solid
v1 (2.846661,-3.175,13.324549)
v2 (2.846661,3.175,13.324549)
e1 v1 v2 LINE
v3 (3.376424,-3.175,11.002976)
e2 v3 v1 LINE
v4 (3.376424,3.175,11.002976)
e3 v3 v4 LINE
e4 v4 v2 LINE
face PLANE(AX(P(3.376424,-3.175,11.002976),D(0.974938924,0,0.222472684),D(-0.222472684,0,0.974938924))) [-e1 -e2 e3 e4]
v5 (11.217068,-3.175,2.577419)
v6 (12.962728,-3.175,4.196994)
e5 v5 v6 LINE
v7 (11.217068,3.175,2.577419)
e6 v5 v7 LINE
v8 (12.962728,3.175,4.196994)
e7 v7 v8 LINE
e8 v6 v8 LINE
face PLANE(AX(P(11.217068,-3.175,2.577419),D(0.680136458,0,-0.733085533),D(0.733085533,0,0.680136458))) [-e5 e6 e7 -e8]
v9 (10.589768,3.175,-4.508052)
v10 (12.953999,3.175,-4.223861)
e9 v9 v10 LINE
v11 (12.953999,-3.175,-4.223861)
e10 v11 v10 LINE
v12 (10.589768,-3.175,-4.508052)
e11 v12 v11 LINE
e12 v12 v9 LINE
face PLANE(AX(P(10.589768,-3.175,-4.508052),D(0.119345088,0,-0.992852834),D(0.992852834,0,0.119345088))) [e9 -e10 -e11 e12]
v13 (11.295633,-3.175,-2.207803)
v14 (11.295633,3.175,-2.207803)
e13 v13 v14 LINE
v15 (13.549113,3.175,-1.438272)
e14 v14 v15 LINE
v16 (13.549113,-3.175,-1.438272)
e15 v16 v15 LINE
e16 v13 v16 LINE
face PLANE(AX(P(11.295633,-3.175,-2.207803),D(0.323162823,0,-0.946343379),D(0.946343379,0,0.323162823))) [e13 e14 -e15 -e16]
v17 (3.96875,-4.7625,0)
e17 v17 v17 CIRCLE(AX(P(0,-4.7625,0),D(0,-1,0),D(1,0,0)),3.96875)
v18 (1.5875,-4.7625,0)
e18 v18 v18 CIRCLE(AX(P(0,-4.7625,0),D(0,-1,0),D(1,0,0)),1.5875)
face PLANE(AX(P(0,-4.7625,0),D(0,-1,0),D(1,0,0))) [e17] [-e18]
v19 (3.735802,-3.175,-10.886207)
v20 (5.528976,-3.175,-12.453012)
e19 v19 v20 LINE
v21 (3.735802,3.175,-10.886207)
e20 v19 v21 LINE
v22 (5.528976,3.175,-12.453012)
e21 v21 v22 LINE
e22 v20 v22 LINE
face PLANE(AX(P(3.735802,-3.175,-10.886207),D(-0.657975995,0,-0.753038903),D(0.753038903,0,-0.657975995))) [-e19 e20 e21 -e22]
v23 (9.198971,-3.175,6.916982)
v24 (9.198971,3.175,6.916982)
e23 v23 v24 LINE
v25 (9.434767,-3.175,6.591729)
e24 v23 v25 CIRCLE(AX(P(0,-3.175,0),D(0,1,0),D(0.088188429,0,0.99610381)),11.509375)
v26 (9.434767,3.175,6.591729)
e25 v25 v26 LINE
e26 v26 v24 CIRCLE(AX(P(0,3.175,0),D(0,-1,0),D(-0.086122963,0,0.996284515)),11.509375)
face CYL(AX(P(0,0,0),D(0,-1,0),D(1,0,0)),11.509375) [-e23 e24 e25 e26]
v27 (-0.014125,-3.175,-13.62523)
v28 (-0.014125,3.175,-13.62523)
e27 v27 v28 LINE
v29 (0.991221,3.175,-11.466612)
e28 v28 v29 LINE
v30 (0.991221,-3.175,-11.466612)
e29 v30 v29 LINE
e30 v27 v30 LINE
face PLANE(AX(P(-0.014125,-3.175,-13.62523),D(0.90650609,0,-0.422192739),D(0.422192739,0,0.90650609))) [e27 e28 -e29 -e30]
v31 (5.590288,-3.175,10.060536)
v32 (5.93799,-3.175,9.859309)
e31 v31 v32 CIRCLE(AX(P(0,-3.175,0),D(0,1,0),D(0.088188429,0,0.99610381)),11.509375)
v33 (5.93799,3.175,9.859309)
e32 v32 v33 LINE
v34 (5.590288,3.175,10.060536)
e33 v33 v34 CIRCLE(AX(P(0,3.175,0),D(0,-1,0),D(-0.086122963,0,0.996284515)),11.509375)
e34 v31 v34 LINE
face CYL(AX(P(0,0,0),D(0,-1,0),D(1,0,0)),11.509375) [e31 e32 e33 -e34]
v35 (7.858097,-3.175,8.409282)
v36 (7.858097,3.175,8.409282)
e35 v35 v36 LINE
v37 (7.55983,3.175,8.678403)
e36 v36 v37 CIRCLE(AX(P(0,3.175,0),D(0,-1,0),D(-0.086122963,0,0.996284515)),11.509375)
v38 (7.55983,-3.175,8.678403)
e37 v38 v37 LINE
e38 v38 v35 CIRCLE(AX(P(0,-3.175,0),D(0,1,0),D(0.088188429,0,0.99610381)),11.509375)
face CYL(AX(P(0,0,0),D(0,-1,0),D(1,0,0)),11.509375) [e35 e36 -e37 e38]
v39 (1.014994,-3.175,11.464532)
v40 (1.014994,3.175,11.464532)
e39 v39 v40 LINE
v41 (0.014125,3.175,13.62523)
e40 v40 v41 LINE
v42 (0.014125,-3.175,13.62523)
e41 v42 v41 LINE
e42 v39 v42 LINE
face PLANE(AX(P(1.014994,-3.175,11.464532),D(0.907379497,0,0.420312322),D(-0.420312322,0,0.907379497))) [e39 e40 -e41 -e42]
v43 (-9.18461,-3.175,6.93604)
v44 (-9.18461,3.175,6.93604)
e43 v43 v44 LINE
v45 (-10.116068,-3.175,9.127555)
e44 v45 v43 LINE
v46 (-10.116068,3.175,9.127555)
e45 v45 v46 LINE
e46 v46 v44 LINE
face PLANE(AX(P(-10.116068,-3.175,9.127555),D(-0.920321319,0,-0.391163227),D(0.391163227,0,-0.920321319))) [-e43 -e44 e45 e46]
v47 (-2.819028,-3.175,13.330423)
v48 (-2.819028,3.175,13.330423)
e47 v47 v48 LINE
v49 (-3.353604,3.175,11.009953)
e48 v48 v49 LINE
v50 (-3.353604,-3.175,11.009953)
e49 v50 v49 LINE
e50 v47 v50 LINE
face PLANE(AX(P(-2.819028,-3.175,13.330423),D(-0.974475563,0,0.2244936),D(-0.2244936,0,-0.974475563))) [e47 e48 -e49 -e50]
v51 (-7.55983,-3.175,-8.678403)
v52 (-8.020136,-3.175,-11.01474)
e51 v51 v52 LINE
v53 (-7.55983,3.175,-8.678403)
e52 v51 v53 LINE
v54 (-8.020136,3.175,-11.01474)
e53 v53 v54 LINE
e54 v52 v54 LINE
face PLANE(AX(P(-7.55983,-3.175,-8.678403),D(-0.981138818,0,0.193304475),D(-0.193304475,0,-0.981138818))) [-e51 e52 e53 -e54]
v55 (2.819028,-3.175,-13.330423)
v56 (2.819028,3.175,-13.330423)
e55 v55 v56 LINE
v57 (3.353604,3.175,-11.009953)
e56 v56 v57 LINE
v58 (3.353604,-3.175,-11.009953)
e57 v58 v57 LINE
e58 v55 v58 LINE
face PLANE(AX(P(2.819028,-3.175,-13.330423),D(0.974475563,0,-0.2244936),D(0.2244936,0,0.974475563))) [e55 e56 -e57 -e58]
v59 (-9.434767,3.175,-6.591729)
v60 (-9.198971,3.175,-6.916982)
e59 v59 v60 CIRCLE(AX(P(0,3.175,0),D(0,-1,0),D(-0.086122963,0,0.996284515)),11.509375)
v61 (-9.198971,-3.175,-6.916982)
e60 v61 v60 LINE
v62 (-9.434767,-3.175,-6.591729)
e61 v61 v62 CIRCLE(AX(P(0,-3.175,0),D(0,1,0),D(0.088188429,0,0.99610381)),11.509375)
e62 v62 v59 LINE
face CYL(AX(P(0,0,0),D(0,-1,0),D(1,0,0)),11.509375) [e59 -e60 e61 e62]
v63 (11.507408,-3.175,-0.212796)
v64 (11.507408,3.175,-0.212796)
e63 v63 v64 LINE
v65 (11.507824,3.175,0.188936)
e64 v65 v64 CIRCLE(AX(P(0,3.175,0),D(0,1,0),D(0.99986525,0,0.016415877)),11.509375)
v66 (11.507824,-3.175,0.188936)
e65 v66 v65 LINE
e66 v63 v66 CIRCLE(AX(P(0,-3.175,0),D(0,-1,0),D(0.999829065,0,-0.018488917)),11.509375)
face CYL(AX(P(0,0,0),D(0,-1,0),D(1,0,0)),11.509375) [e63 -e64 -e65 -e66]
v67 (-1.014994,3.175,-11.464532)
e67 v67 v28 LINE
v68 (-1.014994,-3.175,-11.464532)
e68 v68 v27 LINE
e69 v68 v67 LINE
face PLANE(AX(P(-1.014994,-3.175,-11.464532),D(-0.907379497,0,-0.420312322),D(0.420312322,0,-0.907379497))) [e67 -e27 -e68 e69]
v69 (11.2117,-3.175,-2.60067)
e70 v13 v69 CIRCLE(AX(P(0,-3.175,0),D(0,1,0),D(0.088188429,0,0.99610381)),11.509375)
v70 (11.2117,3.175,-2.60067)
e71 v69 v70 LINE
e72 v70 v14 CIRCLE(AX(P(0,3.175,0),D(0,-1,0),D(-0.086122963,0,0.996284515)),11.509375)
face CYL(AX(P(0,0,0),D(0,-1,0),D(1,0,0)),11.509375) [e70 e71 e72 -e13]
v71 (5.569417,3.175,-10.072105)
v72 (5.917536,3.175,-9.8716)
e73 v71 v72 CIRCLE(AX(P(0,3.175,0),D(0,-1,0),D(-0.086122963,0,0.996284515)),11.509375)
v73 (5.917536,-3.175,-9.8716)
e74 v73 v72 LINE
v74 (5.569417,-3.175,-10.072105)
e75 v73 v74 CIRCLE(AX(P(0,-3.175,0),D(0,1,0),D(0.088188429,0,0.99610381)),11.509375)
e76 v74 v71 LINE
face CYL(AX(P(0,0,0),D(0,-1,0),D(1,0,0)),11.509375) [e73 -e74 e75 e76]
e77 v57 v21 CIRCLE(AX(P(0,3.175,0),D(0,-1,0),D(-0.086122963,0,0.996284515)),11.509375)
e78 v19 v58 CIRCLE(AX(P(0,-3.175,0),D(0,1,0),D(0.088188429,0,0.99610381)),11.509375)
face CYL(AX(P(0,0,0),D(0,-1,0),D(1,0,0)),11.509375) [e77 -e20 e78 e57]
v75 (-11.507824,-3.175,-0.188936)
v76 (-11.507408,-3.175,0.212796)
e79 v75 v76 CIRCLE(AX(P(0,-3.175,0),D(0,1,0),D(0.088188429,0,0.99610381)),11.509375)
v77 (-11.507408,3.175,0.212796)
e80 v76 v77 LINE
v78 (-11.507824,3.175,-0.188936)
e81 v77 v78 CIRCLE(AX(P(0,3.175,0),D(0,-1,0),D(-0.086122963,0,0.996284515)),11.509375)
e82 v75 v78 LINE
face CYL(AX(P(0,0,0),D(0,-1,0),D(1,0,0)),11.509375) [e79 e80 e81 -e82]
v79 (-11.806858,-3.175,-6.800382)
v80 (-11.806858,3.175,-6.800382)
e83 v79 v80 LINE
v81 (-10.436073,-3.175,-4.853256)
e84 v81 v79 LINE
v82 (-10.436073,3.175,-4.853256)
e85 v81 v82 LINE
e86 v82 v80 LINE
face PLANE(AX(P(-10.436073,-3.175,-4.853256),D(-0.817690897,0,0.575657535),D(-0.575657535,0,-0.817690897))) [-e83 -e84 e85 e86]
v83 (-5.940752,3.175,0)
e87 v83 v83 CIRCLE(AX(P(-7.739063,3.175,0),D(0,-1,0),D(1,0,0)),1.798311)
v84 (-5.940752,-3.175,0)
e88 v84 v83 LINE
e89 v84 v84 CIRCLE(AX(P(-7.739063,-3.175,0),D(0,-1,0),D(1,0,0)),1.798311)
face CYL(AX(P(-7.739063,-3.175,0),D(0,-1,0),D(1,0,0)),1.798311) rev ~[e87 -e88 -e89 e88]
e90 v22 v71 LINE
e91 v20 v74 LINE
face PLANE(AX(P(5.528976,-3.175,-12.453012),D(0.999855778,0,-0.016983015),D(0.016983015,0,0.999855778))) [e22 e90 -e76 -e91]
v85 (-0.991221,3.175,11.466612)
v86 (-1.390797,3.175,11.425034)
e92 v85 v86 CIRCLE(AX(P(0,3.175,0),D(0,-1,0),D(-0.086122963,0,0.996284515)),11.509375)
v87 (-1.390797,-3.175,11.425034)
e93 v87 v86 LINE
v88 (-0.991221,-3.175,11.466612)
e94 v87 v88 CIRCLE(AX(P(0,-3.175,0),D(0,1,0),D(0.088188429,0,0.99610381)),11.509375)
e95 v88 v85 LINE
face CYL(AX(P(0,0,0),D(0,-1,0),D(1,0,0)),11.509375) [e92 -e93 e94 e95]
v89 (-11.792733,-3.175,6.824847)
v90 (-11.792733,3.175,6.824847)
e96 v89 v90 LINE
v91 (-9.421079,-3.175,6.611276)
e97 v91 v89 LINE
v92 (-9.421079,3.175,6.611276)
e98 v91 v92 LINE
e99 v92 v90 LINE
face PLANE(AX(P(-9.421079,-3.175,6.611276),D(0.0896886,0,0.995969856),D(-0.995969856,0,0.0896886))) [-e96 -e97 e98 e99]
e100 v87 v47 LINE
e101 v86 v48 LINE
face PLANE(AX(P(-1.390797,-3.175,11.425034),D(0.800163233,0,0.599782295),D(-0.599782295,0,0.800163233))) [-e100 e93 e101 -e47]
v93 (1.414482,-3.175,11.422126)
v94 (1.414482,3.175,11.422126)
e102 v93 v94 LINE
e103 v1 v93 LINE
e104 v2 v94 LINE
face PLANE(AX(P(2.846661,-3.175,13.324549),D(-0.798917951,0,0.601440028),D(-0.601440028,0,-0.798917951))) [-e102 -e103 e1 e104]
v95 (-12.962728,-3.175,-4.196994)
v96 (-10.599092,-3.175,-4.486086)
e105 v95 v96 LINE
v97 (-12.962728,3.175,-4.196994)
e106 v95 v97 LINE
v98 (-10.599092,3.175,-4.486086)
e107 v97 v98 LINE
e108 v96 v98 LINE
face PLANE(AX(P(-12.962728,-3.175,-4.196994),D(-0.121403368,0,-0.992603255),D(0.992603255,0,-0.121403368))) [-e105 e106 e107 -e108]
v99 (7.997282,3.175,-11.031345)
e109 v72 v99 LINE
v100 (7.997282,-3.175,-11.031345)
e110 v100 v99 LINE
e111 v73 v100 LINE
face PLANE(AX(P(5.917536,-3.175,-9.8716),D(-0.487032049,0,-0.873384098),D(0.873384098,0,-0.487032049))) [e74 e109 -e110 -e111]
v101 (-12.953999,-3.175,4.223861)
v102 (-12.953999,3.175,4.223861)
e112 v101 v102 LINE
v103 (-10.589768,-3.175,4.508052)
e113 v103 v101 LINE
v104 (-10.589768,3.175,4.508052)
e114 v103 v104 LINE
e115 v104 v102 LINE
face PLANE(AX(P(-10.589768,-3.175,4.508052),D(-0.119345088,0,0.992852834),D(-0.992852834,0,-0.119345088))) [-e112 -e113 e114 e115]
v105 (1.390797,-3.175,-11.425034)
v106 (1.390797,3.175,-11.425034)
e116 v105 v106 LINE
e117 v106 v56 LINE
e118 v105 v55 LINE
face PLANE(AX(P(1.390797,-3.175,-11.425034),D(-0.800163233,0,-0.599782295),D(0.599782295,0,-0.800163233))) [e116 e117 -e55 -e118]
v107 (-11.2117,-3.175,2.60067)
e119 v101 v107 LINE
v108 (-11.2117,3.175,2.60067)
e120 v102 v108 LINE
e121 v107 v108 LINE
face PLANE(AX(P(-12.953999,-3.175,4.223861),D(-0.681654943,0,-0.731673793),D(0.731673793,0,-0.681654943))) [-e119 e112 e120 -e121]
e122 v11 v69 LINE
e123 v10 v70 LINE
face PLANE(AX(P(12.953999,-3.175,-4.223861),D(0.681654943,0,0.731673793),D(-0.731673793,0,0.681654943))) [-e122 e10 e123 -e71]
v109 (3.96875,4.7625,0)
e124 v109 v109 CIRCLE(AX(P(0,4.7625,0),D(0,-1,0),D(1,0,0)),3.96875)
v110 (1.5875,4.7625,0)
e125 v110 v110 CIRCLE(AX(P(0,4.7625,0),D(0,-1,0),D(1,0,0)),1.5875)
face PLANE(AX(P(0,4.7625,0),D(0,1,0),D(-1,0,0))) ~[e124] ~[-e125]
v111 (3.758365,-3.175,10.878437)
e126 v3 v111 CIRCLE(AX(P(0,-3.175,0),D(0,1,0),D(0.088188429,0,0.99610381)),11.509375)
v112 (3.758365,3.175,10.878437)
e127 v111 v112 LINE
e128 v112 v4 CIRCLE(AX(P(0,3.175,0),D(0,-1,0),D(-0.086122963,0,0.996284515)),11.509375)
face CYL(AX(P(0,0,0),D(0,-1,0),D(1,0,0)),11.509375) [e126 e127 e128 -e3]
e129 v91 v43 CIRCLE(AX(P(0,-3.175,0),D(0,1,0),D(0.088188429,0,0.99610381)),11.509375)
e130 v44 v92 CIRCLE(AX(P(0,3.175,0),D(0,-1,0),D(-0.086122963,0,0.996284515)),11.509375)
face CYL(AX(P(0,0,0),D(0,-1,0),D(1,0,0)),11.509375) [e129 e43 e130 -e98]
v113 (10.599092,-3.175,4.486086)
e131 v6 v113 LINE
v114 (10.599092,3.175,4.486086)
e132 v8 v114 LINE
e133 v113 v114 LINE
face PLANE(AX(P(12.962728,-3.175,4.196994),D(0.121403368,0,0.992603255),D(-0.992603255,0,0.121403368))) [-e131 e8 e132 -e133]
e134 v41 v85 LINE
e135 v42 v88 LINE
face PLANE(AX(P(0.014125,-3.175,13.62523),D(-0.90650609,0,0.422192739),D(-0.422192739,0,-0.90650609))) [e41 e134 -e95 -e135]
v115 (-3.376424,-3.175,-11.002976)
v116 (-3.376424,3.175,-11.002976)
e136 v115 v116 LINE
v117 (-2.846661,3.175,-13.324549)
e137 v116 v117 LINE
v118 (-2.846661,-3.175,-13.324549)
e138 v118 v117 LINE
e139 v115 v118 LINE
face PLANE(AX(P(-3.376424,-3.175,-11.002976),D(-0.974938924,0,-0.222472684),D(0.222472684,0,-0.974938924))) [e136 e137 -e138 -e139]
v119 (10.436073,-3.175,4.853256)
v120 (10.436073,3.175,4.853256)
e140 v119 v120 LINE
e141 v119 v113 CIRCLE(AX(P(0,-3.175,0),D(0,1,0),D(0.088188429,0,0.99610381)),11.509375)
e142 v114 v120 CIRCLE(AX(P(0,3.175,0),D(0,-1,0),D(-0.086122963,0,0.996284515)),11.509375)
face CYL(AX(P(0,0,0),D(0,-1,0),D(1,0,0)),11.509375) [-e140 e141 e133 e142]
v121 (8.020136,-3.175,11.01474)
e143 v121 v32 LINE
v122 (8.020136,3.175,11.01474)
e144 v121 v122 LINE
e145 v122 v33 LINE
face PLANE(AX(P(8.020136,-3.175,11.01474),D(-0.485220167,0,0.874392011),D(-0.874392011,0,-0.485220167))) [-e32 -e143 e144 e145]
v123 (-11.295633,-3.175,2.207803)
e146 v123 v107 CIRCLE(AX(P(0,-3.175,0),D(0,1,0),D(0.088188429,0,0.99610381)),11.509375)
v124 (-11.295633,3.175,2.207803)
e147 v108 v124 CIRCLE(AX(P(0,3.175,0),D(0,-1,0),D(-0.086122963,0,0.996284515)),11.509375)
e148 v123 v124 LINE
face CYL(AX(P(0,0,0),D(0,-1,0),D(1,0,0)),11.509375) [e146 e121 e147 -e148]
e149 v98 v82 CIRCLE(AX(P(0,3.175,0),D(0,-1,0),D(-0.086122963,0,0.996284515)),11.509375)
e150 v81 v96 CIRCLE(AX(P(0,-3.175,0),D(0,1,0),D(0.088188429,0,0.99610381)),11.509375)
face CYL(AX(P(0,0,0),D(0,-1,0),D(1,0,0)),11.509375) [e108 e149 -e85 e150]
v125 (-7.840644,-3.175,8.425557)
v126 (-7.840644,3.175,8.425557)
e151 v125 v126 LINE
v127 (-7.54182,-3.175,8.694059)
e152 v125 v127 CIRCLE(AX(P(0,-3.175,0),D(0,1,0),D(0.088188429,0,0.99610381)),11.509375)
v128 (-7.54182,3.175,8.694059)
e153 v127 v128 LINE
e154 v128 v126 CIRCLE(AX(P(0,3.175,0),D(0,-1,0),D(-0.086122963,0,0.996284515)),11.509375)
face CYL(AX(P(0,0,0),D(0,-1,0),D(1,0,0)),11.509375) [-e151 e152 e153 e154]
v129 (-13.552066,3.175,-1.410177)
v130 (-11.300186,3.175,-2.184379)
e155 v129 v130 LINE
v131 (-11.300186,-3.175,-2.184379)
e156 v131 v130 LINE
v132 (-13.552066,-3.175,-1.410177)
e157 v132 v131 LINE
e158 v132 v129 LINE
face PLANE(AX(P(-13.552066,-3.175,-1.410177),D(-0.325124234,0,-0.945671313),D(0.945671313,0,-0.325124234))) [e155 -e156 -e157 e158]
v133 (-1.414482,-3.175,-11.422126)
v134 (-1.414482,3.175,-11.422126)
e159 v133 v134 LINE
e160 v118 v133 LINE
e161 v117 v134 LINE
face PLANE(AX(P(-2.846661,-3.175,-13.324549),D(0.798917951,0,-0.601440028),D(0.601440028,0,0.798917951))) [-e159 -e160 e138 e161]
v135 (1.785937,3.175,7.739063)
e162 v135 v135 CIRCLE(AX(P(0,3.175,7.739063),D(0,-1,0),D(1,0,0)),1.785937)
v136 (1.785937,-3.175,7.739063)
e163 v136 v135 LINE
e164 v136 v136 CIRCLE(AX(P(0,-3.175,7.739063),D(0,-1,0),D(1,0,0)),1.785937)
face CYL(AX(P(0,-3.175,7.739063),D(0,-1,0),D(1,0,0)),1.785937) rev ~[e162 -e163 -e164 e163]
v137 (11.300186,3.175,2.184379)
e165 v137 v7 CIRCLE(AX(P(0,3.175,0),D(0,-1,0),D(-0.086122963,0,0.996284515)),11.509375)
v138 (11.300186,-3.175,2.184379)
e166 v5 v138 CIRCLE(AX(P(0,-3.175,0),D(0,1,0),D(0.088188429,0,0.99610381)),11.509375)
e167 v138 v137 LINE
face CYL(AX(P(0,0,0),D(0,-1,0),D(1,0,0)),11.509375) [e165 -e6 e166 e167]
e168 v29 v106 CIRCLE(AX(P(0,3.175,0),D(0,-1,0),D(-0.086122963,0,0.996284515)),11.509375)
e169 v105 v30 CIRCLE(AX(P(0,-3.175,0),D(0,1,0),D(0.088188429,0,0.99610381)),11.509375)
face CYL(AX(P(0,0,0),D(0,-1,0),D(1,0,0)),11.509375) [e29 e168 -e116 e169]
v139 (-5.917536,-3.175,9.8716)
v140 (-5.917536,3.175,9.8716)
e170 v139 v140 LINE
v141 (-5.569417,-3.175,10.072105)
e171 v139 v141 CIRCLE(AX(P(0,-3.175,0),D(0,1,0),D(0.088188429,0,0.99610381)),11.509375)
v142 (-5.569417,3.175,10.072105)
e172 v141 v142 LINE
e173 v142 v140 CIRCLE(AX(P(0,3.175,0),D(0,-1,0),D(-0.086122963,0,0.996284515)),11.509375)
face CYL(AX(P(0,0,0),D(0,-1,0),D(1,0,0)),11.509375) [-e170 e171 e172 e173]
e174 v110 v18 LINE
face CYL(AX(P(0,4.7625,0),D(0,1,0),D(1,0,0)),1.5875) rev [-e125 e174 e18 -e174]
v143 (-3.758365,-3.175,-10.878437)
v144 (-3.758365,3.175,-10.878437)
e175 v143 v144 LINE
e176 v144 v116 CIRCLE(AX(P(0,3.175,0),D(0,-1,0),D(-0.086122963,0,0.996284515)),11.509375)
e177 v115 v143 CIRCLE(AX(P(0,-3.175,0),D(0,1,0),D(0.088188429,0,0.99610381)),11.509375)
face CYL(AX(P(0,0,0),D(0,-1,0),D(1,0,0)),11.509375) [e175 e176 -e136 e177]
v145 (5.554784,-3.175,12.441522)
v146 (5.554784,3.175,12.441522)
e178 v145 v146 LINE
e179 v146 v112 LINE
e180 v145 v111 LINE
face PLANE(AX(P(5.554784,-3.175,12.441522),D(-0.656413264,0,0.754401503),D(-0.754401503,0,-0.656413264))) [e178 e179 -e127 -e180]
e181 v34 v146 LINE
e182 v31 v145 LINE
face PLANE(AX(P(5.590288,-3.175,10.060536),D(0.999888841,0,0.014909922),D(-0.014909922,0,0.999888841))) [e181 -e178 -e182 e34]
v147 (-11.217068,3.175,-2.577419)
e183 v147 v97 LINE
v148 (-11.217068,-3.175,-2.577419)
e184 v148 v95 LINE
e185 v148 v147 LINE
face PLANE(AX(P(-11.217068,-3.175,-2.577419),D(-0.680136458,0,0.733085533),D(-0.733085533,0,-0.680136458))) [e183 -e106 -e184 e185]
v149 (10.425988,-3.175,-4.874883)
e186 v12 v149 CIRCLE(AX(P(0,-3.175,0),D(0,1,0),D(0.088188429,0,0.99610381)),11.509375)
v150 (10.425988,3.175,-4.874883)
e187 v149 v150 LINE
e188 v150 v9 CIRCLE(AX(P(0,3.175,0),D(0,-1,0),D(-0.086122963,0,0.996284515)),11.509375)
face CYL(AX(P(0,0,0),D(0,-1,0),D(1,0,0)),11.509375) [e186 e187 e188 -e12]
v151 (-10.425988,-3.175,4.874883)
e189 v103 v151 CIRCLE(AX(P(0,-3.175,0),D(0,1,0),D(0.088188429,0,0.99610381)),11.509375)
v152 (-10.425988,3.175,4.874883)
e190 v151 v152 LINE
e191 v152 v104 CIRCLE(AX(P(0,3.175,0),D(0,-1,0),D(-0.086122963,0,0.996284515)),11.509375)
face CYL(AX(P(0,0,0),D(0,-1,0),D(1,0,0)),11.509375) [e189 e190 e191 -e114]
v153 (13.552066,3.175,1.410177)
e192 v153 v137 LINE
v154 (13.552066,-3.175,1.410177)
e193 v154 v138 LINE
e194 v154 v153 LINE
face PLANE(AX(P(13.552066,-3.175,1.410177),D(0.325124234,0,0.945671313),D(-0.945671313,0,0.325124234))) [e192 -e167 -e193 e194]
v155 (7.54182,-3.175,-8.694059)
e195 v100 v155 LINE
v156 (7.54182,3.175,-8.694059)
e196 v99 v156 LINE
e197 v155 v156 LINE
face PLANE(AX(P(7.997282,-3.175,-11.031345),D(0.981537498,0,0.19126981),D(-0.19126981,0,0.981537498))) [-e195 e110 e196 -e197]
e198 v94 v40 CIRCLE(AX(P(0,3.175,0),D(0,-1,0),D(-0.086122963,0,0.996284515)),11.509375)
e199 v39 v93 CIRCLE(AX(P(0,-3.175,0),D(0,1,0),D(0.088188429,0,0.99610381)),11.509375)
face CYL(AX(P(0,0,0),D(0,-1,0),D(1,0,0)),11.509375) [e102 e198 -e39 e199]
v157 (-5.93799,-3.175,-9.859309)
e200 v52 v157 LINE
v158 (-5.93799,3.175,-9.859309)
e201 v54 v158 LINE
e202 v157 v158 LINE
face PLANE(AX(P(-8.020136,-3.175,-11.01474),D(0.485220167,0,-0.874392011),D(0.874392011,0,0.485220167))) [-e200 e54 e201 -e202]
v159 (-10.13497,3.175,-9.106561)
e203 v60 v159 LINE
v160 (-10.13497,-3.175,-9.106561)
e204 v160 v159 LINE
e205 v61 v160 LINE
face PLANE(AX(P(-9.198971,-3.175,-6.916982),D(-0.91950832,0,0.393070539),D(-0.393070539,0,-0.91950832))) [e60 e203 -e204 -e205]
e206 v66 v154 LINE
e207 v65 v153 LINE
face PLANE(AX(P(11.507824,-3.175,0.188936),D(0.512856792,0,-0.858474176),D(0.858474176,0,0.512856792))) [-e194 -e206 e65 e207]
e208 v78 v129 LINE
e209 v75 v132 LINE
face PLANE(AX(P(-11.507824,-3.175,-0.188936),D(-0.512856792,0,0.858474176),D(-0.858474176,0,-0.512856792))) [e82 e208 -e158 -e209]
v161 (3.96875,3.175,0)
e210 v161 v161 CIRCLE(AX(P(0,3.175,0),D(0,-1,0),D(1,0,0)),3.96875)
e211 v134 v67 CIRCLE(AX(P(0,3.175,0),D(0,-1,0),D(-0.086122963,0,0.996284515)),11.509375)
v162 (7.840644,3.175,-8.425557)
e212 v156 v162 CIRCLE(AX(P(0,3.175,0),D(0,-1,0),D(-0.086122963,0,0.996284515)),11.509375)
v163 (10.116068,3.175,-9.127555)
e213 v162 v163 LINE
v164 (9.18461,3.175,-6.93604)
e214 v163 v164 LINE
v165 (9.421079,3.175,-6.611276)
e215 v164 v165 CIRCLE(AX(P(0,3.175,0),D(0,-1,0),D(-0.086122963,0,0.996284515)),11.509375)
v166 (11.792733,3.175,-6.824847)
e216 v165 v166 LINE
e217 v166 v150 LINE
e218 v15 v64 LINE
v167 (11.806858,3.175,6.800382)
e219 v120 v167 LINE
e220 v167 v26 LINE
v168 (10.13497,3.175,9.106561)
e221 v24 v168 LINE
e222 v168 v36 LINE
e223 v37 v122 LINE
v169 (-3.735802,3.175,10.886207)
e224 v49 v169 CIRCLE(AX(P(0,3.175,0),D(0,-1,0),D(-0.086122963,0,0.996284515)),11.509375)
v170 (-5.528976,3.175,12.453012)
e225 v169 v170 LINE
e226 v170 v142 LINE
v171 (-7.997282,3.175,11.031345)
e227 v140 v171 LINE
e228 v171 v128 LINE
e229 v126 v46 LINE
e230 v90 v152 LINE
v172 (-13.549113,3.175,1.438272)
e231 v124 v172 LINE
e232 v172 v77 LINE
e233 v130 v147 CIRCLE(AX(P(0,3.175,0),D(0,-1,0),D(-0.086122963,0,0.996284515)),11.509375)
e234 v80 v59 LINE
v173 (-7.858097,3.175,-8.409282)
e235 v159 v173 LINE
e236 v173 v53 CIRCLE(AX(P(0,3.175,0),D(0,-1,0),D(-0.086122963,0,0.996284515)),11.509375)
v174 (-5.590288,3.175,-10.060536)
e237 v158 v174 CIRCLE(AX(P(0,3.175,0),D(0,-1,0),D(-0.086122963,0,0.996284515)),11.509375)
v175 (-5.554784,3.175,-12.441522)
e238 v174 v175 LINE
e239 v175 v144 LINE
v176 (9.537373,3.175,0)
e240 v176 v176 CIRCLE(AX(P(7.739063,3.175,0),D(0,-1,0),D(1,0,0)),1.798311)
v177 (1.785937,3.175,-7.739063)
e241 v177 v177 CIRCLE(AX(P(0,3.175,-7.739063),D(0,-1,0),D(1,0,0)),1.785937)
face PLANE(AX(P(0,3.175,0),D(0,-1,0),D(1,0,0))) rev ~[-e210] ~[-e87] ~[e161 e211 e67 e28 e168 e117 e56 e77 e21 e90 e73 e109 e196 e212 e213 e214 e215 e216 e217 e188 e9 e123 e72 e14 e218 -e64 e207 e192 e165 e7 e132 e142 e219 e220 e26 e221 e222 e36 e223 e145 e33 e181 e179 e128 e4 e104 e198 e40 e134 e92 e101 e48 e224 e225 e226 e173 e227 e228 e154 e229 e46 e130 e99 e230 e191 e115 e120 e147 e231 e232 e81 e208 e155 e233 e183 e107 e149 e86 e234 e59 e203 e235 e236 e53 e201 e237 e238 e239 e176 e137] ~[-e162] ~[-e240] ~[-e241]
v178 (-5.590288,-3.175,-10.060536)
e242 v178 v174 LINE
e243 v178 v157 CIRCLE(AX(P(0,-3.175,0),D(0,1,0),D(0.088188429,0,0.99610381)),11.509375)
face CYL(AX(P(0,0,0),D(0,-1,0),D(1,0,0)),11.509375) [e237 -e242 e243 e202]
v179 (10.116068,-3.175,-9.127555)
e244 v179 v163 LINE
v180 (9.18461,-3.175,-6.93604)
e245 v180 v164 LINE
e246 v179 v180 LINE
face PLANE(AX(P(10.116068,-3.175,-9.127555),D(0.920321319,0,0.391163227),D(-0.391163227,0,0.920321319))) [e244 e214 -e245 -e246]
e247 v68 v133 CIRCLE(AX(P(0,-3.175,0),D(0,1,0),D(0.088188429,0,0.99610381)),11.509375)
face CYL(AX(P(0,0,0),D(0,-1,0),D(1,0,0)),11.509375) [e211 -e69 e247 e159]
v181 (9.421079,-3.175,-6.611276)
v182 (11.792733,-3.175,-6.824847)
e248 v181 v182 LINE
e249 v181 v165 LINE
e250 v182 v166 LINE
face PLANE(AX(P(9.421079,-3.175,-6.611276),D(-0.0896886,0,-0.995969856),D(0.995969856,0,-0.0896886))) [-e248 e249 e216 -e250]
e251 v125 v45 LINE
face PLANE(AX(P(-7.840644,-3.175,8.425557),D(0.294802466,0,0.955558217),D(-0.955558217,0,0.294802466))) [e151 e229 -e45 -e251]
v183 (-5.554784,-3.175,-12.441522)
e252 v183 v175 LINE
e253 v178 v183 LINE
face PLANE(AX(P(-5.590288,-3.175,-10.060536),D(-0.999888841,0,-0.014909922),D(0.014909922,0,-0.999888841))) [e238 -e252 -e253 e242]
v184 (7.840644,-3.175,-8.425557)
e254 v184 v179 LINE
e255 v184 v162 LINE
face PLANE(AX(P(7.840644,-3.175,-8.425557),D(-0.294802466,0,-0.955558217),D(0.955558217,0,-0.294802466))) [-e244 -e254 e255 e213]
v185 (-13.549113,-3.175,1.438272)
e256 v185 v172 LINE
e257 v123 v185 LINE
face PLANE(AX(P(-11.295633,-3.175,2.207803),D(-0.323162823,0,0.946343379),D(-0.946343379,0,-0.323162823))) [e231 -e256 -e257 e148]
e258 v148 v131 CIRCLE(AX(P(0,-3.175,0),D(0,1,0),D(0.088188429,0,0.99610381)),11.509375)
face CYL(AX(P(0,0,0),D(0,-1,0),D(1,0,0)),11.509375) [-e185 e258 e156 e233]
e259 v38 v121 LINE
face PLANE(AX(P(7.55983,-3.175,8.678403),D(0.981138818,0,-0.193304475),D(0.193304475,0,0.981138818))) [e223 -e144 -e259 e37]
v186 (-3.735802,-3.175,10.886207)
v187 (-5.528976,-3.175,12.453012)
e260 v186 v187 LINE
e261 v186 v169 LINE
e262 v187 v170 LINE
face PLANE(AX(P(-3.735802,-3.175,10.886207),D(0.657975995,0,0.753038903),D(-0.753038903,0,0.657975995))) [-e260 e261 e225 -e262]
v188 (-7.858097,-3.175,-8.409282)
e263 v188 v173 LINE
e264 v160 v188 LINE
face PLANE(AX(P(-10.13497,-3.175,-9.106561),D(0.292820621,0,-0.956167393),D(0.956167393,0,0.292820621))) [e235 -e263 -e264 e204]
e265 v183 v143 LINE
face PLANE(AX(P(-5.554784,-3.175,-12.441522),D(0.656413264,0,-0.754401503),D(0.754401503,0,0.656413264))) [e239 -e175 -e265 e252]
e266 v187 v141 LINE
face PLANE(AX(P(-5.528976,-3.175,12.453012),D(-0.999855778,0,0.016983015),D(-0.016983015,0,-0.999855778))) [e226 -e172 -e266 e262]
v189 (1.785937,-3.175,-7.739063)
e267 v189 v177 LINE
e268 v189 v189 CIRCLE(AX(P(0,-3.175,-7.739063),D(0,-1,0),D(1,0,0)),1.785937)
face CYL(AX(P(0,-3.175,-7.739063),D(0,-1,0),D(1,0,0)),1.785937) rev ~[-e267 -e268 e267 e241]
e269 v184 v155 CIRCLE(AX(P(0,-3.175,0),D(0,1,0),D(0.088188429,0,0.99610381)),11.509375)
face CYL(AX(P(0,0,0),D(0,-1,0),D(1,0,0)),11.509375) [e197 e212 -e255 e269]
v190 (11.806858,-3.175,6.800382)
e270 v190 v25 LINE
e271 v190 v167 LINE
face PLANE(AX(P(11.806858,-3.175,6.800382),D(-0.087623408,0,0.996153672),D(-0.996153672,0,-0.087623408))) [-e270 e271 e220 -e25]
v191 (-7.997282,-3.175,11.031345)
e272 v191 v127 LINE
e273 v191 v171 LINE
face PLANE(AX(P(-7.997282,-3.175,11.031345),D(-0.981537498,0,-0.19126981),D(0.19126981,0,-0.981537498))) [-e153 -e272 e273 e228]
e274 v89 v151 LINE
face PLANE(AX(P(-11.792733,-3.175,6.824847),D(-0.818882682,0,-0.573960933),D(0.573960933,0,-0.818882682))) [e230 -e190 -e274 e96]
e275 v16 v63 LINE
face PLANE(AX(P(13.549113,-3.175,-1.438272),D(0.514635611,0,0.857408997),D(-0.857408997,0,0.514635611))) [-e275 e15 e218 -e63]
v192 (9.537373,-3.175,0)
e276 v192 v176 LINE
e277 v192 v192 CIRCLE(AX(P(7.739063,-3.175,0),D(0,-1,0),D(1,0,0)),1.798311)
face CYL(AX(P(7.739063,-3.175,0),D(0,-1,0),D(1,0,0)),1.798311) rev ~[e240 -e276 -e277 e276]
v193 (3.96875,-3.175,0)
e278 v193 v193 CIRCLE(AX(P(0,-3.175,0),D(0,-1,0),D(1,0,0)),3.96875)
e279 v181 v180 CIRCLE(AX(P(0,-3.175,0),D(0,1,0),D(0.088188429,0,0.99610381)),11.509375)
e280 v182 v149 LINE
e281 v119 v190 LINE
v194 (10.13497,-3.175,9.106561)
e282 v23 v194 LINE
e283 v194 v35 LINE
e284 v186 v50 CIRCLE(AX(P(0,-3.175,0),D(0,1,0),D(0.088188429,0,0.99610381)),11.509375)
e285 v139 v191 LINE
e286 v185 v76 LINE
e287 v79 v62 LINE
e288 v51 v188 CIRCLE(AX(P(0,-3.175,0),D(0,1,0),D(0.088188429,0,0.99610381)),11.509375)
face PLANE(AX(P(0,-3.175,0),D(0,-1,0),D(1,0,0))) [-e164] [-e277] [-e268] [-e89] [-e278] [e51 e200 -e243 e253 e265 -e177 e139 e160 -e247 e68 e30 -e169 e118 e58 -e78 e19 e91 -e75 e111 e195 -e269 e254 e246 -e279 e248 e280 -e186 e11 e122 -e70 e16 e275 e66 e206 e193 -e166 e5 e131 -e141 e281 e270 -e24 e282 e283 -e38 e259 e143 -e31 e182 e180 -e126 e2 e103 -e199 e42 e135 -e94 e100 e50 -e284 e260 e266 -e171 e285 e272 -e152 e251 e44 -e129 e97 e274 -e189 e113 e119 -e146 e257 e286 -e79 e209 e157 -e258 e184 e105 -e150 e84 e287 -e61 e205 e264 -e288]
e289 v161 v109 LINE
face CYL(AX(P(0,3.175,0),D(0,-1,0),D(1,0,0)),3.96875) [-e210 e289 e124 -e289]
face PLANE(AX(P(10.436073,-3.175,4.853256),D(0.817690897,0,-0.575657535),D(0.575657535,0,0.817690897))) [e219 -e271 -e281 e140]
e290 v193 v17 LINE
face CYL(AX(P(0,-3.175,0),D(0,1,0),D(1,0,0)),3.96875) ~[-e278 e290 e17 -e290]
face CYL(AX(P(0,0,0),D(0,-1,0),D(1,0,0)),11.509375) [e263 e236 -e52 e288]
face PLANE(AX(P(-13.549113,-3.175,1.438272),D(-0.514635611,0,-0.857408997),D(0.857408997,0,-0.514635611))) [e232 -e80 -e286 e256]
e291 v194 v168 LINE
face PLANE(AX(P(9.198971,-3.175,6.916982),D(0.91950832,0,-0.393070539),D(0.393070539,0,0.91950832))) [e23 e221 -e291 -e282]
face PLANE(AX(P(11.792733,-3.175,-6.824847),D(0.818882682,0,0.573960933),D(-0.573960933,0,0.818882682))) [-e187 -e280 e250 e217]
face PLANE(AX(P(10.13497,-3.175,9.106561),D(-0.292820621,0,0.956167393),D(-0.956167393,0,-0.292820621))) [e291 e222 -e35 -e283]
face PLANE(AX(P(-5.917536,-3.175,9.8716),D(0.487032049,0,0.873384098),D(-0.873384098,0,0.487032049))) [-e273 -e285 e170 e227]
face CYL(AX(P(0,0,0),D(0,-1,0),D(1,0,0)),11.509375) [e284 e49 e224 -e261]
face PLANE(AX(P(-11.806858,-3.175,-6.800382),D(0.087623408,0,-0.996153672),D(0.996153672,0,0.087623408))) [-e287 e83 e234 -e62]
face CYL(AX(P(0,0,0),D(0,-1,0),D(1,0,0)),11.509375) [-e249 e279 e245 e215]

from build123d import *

# Parameters (mm, degrees)
F0_R      = 11.509375
F1_DEPTH  = 3.175
F2_R      = 3.96875
F3_DEPTH  = 1.5875
F4_R      = 1.5875
F5_DEPTH  = 7.9385
F6_R      = 1.7859375
F6_R_2    = 1.7983109728
F7_DEPTH  = 6.351
F9_DEPTH  = 6.35
F10_COUNT = 30


with BuildPart() as f1:
    # F0 (on Front) → F1 (new body, symmetric)
    with BuildSketch(Plane.XZ):
        Circle(F0_R)
    extrude(amount=F1_DEPTH, both=True)

    # F2 (on face) → F3 (join)
    with BuildSketch(Plane.XZ.offset(3.175)):
        Circle(F2_R)
    extrude(amount=F3_DEPTH)

    # F4 (on face) → F5 (cut, through all)
    with BuildSketch(Plane.XZ.offset(4.7625)):
        Circle(F4_R)
    extrude(amount=-F5_DEPTH, mode=Mode.SUBTRACT)

    # F6 (on face) → F7 (cut, through all)
    with BuildSketch(Plane.XZ.offset(3.175)):
        with Locations((0, 7.7390625)):
            Circle(F6_R)
        with Locations((0, -7.7390625)):
            Circle(F6_R)
        with Locations((-7.7390625, 0)):
            Circle(F6_R_2)
        with Locations((7.7390625, 0)):
            Circle(F6_R_2)
    extrude(amount=-F7_DEPTH, mode=Mode.SUBTRACT)



with BuildPart() as f9:
    # F8 (on face) → F9 (new body, through all)
    with BuildSketch(Plane.XZ.offset(3.175)):
        with BuildLine():
            Line((0.0141249861, 13.6252297198), (-0.9912214727, 11.4666120926))
            ThreePointArc((-0.9912214727, 11.4666120926), (0.011931518, 11.5093688154), (1.0149937027, 11.464532292))
            Line((1.0149937027, 11.464532292), (0.0141249861, 13.6252297198))
        make_face()
    extrude(amount=-F9_DEPTH)


with BuildPart() as f10_1:
    # F10: instance of F9
    add(f9.part.rotate(Axis((0, -3.175, 0), (0, -1, 0)), 1 * 360 / F10_COUNT))


with BuildPart() as f10_2:
    # F10: instance of F9
    add(f9.part.rotate(Axis((0, -3.175, 0), (0, -1, 0)), 2 * 360 / F10_COUNT))


with BuildPart() as f10_3:
    # F10: instance of F9
    add(f9.part.rotate(Axis((0, -3.175, 0), (0, -1, 0)), 3 * 360 / F10_COUNT))


with BuildPart() as f10_4:
    # F10: instance of F9
    add(f9.part.rotate(Axis((0, -3.175, 0), (0, -1, 0)), 4 * 360 / F10_COUNT))


with BuildPart() as f10_5:
    # F10: instance of F9
    add(f9.part.rotate(Axis((0, -3.175, 0), (0, -1, 0)), 5 * 360 / F10_COUNT))


with BuildPart() as f10_6:
    # F10: instance of F9
    add(f9.part.rotate(Axis((0, -3.175, 0), (0, -1, 0)), 6 * 360 / F10_COUNT))


with BuildPart() as f10_7:
    # F10: instance of F9
    add(f9.part.rotate(Axis((0, -3.175, 0), (0, -1, 0)), 7 * 360 / F10_COUNT))


with BuildPart() as f10_8:
    # F10: instance of F9
    add(f9.part.rotate(Axis((0, -3.175, 0), (0, -1, 0)), 8 * 360 / F10_COUNT))


with BuildPart() as f10_9:
    # F10: instance of F9
    add(f9.part.rotate(Axis((0, -3.175, 0), (0, -1, 0)), 9 * 360 / F10_COUNT))


with BuildPart() as f10_10:
    # F10: instance of F9
    add(f9.part.rotate(Axis((0, -3.175, 0), (0, -1, 0)), 10 * 360 / F10_COUNT))


with BuildPart() as f10_11:
    # F10: instance of F9
    add(f9.part.rotate(Axis((0, -3.175, 0), (0, -1, 0)), 11 * 360 / F10_COUNT))


with BuildPart() as f10_12:
    # F10: instance of F9
    add(f9.part.rotate(Axis((0, -3.175, 0), (0, -1, 0)), 12 * 360 / F10_COUNT))


with BuildPart() as f10_13:
    # F10: instance of F9
    add(f9.part.rotate(Axis((0, -3.175, 0), (0, -1, 0)), 13 * 360 / F10_COUNT))


with BuildPart() as f10_14:
    # F10: instance of F9
    add(f9.part.rotate(Axis((0, -3.175, 0), (0, -1, 0)), 14 * 360 / F10_COUNT))


with BuildPart() as f10_15:
    # F10: instance of F9
    add(f9.part.rotate(Axis((0, -3.175, 0), (0, -1, 0)), 15 * 360 / F10_COUNT))


with BuildPart() as f10_16:
    # F10: instance of F9
    add(f9.part.rotate(Axis((0, -3.175, 0), (0, -1, 0)), 16 * 360 / F10_COUNT))


with BuildPart() as f10_17:
    # F10: instance of F9
    add(f9.part.rotate(Axis((0, -3.175, 0), (0, -1, 0)), 17 * 360 / F10_COUNT))


with BuildPart() as f10_18:
    # F10: instance of F9
    add(f9.part.rotate(Axis((0, -3.175, 0), (0, -1, 0)), 18 * 360 / F10_COUNT))


with BuildPart() as f10_19:
    # F10: instance of F9
    add(f9.part.rotate(Axis((0, -3.175, 0), (0, -1, 0)), 19 * 360 / F10_COUNT))


with BuildPart() as f10_20:
    # F10: instance of F9
    add(f9.part.rotate(Axis((0, -3.175, 0), (0, -1, 0)), 20 * 360 / F10_COUNT))


with BuildPart() as f10_21:
    # F10: instance of F9
    add(f9.part.rotate(Axis((0, -3.175, 0), (0, -1, 0)), 21 * 360 / F10_COUNT))


with BuildPart() as f10_22:
    # F10: instance of F9
    add(f9.part.rotate(Axis((0, -3.175, 0), (0, -1, 0)), 22 * 360 / F10_COUNT))


with BuildPart() as f10_23:
    # F10: instance of F9
    add(f9.part.rotate(Axis((0, -3.175, 0), (0, -1, 0)), 23 * 360 / F10_COUNT))


with BuildPart() as f10_24:
    # F10: instance of F9
    add(f9.part.rotate(Axis((0, -3.175, 0), (0, -1, 0)), 24 * 360 / F10_COUNT))


with BuildPart() as f10_25:
    # F10: instance of F9
    add(f9.part.rotate(Axis((0, -3.175, 0), (0, -1, 0)), 25 * 360 / F10_COUNT))


with BuildPart() as f10_26:
    # F10: instance of F9
    add(f9.part.rotate(Axis((0, -3.175, 0), (0, -1, 0)), 26 * 360 / F10_COUNT))


with BuildPart() as f10_27:
    # F10: instance of F9
    add(f9.part.rotate(Axis((0, -3.175, 0), (0, -1, 0)), 27 * 360 / F10_COUNT))


with BuildPart() as f10_28:
    # F10: instance of F9
    add(f9.part.rotate(Axis((0, -3.175, 0), (0, -1, 0)), 28 * 360 / F10_COUNT))


with BuildPart() as f10_29:
    # F10: instance of F9
    add(f9.part.rotate(Axis((0, -3.175, 0), (0, -1, 0)), 29 * 360 / F10_COUNT))


with BuildPart() as f1_1:
    add(f1.part)

    add(f9.part)  # F11 merges F9

    add(f10_1.part)  # F11 merges F10_1

    add(f10_2.part)  # F11 merges F10_2

    add(f10_3.part)  # F11 merges F10_3

    add(f10_4.part)  # F11 merges F10_4

    add(f10_5.part)  # F11 merges F10_5

    add(f10_6.part)  # F11 merges F10_6

    add(f10_7.part)  # F11 merges F10_7

    add(f10_8.part)  # F11 merges F10_8

    add(f10_9.part)  # F11 merges F10_9

    add(f10_10.part)  # F11 merges F10_10

    add(f10_11.part)  # F11 merges F10_11

    add(f10_12.part)  # F11 merges F10_12

    add(f10_13.part)  # F11 merges F10_13

    add(f10_14.part)  # F11 merges F10_14

    add(f10_15.part)  # F11 merges F10_15

    add(f10_16.part)  # F11 merges F10_16

    add(f10_17.part)  # F11 merges F10_17

    add(f10_18.part)  # F11 merges F10_18

    add(f10_19.part)  # F11 merges F10_19

    add(f10_20.part)  # F11 merges F10_20

    add(f10_21.part)  # F11 merges F10_21

    add(f10_22.part)  # F11 merges F10_22

    add(f10_23.part)  # F11 merges F10_23

    add(f10_24.part)  # F11 merges F10_24

    add(f10_25.part)  # F11 merges F10_25

    add(f10_26.part)  # F11 merges F10_26

    add(f10_27.part)  # F11 merges F10_27

    add(f10_28.part)  # F11 merges F10_28

    add(f10_29.part)  # F11 merges F10_29
    # F11: F1 across plane
    add(f1.part.mirror(Plane.XZ))


solid = f1_1.part
